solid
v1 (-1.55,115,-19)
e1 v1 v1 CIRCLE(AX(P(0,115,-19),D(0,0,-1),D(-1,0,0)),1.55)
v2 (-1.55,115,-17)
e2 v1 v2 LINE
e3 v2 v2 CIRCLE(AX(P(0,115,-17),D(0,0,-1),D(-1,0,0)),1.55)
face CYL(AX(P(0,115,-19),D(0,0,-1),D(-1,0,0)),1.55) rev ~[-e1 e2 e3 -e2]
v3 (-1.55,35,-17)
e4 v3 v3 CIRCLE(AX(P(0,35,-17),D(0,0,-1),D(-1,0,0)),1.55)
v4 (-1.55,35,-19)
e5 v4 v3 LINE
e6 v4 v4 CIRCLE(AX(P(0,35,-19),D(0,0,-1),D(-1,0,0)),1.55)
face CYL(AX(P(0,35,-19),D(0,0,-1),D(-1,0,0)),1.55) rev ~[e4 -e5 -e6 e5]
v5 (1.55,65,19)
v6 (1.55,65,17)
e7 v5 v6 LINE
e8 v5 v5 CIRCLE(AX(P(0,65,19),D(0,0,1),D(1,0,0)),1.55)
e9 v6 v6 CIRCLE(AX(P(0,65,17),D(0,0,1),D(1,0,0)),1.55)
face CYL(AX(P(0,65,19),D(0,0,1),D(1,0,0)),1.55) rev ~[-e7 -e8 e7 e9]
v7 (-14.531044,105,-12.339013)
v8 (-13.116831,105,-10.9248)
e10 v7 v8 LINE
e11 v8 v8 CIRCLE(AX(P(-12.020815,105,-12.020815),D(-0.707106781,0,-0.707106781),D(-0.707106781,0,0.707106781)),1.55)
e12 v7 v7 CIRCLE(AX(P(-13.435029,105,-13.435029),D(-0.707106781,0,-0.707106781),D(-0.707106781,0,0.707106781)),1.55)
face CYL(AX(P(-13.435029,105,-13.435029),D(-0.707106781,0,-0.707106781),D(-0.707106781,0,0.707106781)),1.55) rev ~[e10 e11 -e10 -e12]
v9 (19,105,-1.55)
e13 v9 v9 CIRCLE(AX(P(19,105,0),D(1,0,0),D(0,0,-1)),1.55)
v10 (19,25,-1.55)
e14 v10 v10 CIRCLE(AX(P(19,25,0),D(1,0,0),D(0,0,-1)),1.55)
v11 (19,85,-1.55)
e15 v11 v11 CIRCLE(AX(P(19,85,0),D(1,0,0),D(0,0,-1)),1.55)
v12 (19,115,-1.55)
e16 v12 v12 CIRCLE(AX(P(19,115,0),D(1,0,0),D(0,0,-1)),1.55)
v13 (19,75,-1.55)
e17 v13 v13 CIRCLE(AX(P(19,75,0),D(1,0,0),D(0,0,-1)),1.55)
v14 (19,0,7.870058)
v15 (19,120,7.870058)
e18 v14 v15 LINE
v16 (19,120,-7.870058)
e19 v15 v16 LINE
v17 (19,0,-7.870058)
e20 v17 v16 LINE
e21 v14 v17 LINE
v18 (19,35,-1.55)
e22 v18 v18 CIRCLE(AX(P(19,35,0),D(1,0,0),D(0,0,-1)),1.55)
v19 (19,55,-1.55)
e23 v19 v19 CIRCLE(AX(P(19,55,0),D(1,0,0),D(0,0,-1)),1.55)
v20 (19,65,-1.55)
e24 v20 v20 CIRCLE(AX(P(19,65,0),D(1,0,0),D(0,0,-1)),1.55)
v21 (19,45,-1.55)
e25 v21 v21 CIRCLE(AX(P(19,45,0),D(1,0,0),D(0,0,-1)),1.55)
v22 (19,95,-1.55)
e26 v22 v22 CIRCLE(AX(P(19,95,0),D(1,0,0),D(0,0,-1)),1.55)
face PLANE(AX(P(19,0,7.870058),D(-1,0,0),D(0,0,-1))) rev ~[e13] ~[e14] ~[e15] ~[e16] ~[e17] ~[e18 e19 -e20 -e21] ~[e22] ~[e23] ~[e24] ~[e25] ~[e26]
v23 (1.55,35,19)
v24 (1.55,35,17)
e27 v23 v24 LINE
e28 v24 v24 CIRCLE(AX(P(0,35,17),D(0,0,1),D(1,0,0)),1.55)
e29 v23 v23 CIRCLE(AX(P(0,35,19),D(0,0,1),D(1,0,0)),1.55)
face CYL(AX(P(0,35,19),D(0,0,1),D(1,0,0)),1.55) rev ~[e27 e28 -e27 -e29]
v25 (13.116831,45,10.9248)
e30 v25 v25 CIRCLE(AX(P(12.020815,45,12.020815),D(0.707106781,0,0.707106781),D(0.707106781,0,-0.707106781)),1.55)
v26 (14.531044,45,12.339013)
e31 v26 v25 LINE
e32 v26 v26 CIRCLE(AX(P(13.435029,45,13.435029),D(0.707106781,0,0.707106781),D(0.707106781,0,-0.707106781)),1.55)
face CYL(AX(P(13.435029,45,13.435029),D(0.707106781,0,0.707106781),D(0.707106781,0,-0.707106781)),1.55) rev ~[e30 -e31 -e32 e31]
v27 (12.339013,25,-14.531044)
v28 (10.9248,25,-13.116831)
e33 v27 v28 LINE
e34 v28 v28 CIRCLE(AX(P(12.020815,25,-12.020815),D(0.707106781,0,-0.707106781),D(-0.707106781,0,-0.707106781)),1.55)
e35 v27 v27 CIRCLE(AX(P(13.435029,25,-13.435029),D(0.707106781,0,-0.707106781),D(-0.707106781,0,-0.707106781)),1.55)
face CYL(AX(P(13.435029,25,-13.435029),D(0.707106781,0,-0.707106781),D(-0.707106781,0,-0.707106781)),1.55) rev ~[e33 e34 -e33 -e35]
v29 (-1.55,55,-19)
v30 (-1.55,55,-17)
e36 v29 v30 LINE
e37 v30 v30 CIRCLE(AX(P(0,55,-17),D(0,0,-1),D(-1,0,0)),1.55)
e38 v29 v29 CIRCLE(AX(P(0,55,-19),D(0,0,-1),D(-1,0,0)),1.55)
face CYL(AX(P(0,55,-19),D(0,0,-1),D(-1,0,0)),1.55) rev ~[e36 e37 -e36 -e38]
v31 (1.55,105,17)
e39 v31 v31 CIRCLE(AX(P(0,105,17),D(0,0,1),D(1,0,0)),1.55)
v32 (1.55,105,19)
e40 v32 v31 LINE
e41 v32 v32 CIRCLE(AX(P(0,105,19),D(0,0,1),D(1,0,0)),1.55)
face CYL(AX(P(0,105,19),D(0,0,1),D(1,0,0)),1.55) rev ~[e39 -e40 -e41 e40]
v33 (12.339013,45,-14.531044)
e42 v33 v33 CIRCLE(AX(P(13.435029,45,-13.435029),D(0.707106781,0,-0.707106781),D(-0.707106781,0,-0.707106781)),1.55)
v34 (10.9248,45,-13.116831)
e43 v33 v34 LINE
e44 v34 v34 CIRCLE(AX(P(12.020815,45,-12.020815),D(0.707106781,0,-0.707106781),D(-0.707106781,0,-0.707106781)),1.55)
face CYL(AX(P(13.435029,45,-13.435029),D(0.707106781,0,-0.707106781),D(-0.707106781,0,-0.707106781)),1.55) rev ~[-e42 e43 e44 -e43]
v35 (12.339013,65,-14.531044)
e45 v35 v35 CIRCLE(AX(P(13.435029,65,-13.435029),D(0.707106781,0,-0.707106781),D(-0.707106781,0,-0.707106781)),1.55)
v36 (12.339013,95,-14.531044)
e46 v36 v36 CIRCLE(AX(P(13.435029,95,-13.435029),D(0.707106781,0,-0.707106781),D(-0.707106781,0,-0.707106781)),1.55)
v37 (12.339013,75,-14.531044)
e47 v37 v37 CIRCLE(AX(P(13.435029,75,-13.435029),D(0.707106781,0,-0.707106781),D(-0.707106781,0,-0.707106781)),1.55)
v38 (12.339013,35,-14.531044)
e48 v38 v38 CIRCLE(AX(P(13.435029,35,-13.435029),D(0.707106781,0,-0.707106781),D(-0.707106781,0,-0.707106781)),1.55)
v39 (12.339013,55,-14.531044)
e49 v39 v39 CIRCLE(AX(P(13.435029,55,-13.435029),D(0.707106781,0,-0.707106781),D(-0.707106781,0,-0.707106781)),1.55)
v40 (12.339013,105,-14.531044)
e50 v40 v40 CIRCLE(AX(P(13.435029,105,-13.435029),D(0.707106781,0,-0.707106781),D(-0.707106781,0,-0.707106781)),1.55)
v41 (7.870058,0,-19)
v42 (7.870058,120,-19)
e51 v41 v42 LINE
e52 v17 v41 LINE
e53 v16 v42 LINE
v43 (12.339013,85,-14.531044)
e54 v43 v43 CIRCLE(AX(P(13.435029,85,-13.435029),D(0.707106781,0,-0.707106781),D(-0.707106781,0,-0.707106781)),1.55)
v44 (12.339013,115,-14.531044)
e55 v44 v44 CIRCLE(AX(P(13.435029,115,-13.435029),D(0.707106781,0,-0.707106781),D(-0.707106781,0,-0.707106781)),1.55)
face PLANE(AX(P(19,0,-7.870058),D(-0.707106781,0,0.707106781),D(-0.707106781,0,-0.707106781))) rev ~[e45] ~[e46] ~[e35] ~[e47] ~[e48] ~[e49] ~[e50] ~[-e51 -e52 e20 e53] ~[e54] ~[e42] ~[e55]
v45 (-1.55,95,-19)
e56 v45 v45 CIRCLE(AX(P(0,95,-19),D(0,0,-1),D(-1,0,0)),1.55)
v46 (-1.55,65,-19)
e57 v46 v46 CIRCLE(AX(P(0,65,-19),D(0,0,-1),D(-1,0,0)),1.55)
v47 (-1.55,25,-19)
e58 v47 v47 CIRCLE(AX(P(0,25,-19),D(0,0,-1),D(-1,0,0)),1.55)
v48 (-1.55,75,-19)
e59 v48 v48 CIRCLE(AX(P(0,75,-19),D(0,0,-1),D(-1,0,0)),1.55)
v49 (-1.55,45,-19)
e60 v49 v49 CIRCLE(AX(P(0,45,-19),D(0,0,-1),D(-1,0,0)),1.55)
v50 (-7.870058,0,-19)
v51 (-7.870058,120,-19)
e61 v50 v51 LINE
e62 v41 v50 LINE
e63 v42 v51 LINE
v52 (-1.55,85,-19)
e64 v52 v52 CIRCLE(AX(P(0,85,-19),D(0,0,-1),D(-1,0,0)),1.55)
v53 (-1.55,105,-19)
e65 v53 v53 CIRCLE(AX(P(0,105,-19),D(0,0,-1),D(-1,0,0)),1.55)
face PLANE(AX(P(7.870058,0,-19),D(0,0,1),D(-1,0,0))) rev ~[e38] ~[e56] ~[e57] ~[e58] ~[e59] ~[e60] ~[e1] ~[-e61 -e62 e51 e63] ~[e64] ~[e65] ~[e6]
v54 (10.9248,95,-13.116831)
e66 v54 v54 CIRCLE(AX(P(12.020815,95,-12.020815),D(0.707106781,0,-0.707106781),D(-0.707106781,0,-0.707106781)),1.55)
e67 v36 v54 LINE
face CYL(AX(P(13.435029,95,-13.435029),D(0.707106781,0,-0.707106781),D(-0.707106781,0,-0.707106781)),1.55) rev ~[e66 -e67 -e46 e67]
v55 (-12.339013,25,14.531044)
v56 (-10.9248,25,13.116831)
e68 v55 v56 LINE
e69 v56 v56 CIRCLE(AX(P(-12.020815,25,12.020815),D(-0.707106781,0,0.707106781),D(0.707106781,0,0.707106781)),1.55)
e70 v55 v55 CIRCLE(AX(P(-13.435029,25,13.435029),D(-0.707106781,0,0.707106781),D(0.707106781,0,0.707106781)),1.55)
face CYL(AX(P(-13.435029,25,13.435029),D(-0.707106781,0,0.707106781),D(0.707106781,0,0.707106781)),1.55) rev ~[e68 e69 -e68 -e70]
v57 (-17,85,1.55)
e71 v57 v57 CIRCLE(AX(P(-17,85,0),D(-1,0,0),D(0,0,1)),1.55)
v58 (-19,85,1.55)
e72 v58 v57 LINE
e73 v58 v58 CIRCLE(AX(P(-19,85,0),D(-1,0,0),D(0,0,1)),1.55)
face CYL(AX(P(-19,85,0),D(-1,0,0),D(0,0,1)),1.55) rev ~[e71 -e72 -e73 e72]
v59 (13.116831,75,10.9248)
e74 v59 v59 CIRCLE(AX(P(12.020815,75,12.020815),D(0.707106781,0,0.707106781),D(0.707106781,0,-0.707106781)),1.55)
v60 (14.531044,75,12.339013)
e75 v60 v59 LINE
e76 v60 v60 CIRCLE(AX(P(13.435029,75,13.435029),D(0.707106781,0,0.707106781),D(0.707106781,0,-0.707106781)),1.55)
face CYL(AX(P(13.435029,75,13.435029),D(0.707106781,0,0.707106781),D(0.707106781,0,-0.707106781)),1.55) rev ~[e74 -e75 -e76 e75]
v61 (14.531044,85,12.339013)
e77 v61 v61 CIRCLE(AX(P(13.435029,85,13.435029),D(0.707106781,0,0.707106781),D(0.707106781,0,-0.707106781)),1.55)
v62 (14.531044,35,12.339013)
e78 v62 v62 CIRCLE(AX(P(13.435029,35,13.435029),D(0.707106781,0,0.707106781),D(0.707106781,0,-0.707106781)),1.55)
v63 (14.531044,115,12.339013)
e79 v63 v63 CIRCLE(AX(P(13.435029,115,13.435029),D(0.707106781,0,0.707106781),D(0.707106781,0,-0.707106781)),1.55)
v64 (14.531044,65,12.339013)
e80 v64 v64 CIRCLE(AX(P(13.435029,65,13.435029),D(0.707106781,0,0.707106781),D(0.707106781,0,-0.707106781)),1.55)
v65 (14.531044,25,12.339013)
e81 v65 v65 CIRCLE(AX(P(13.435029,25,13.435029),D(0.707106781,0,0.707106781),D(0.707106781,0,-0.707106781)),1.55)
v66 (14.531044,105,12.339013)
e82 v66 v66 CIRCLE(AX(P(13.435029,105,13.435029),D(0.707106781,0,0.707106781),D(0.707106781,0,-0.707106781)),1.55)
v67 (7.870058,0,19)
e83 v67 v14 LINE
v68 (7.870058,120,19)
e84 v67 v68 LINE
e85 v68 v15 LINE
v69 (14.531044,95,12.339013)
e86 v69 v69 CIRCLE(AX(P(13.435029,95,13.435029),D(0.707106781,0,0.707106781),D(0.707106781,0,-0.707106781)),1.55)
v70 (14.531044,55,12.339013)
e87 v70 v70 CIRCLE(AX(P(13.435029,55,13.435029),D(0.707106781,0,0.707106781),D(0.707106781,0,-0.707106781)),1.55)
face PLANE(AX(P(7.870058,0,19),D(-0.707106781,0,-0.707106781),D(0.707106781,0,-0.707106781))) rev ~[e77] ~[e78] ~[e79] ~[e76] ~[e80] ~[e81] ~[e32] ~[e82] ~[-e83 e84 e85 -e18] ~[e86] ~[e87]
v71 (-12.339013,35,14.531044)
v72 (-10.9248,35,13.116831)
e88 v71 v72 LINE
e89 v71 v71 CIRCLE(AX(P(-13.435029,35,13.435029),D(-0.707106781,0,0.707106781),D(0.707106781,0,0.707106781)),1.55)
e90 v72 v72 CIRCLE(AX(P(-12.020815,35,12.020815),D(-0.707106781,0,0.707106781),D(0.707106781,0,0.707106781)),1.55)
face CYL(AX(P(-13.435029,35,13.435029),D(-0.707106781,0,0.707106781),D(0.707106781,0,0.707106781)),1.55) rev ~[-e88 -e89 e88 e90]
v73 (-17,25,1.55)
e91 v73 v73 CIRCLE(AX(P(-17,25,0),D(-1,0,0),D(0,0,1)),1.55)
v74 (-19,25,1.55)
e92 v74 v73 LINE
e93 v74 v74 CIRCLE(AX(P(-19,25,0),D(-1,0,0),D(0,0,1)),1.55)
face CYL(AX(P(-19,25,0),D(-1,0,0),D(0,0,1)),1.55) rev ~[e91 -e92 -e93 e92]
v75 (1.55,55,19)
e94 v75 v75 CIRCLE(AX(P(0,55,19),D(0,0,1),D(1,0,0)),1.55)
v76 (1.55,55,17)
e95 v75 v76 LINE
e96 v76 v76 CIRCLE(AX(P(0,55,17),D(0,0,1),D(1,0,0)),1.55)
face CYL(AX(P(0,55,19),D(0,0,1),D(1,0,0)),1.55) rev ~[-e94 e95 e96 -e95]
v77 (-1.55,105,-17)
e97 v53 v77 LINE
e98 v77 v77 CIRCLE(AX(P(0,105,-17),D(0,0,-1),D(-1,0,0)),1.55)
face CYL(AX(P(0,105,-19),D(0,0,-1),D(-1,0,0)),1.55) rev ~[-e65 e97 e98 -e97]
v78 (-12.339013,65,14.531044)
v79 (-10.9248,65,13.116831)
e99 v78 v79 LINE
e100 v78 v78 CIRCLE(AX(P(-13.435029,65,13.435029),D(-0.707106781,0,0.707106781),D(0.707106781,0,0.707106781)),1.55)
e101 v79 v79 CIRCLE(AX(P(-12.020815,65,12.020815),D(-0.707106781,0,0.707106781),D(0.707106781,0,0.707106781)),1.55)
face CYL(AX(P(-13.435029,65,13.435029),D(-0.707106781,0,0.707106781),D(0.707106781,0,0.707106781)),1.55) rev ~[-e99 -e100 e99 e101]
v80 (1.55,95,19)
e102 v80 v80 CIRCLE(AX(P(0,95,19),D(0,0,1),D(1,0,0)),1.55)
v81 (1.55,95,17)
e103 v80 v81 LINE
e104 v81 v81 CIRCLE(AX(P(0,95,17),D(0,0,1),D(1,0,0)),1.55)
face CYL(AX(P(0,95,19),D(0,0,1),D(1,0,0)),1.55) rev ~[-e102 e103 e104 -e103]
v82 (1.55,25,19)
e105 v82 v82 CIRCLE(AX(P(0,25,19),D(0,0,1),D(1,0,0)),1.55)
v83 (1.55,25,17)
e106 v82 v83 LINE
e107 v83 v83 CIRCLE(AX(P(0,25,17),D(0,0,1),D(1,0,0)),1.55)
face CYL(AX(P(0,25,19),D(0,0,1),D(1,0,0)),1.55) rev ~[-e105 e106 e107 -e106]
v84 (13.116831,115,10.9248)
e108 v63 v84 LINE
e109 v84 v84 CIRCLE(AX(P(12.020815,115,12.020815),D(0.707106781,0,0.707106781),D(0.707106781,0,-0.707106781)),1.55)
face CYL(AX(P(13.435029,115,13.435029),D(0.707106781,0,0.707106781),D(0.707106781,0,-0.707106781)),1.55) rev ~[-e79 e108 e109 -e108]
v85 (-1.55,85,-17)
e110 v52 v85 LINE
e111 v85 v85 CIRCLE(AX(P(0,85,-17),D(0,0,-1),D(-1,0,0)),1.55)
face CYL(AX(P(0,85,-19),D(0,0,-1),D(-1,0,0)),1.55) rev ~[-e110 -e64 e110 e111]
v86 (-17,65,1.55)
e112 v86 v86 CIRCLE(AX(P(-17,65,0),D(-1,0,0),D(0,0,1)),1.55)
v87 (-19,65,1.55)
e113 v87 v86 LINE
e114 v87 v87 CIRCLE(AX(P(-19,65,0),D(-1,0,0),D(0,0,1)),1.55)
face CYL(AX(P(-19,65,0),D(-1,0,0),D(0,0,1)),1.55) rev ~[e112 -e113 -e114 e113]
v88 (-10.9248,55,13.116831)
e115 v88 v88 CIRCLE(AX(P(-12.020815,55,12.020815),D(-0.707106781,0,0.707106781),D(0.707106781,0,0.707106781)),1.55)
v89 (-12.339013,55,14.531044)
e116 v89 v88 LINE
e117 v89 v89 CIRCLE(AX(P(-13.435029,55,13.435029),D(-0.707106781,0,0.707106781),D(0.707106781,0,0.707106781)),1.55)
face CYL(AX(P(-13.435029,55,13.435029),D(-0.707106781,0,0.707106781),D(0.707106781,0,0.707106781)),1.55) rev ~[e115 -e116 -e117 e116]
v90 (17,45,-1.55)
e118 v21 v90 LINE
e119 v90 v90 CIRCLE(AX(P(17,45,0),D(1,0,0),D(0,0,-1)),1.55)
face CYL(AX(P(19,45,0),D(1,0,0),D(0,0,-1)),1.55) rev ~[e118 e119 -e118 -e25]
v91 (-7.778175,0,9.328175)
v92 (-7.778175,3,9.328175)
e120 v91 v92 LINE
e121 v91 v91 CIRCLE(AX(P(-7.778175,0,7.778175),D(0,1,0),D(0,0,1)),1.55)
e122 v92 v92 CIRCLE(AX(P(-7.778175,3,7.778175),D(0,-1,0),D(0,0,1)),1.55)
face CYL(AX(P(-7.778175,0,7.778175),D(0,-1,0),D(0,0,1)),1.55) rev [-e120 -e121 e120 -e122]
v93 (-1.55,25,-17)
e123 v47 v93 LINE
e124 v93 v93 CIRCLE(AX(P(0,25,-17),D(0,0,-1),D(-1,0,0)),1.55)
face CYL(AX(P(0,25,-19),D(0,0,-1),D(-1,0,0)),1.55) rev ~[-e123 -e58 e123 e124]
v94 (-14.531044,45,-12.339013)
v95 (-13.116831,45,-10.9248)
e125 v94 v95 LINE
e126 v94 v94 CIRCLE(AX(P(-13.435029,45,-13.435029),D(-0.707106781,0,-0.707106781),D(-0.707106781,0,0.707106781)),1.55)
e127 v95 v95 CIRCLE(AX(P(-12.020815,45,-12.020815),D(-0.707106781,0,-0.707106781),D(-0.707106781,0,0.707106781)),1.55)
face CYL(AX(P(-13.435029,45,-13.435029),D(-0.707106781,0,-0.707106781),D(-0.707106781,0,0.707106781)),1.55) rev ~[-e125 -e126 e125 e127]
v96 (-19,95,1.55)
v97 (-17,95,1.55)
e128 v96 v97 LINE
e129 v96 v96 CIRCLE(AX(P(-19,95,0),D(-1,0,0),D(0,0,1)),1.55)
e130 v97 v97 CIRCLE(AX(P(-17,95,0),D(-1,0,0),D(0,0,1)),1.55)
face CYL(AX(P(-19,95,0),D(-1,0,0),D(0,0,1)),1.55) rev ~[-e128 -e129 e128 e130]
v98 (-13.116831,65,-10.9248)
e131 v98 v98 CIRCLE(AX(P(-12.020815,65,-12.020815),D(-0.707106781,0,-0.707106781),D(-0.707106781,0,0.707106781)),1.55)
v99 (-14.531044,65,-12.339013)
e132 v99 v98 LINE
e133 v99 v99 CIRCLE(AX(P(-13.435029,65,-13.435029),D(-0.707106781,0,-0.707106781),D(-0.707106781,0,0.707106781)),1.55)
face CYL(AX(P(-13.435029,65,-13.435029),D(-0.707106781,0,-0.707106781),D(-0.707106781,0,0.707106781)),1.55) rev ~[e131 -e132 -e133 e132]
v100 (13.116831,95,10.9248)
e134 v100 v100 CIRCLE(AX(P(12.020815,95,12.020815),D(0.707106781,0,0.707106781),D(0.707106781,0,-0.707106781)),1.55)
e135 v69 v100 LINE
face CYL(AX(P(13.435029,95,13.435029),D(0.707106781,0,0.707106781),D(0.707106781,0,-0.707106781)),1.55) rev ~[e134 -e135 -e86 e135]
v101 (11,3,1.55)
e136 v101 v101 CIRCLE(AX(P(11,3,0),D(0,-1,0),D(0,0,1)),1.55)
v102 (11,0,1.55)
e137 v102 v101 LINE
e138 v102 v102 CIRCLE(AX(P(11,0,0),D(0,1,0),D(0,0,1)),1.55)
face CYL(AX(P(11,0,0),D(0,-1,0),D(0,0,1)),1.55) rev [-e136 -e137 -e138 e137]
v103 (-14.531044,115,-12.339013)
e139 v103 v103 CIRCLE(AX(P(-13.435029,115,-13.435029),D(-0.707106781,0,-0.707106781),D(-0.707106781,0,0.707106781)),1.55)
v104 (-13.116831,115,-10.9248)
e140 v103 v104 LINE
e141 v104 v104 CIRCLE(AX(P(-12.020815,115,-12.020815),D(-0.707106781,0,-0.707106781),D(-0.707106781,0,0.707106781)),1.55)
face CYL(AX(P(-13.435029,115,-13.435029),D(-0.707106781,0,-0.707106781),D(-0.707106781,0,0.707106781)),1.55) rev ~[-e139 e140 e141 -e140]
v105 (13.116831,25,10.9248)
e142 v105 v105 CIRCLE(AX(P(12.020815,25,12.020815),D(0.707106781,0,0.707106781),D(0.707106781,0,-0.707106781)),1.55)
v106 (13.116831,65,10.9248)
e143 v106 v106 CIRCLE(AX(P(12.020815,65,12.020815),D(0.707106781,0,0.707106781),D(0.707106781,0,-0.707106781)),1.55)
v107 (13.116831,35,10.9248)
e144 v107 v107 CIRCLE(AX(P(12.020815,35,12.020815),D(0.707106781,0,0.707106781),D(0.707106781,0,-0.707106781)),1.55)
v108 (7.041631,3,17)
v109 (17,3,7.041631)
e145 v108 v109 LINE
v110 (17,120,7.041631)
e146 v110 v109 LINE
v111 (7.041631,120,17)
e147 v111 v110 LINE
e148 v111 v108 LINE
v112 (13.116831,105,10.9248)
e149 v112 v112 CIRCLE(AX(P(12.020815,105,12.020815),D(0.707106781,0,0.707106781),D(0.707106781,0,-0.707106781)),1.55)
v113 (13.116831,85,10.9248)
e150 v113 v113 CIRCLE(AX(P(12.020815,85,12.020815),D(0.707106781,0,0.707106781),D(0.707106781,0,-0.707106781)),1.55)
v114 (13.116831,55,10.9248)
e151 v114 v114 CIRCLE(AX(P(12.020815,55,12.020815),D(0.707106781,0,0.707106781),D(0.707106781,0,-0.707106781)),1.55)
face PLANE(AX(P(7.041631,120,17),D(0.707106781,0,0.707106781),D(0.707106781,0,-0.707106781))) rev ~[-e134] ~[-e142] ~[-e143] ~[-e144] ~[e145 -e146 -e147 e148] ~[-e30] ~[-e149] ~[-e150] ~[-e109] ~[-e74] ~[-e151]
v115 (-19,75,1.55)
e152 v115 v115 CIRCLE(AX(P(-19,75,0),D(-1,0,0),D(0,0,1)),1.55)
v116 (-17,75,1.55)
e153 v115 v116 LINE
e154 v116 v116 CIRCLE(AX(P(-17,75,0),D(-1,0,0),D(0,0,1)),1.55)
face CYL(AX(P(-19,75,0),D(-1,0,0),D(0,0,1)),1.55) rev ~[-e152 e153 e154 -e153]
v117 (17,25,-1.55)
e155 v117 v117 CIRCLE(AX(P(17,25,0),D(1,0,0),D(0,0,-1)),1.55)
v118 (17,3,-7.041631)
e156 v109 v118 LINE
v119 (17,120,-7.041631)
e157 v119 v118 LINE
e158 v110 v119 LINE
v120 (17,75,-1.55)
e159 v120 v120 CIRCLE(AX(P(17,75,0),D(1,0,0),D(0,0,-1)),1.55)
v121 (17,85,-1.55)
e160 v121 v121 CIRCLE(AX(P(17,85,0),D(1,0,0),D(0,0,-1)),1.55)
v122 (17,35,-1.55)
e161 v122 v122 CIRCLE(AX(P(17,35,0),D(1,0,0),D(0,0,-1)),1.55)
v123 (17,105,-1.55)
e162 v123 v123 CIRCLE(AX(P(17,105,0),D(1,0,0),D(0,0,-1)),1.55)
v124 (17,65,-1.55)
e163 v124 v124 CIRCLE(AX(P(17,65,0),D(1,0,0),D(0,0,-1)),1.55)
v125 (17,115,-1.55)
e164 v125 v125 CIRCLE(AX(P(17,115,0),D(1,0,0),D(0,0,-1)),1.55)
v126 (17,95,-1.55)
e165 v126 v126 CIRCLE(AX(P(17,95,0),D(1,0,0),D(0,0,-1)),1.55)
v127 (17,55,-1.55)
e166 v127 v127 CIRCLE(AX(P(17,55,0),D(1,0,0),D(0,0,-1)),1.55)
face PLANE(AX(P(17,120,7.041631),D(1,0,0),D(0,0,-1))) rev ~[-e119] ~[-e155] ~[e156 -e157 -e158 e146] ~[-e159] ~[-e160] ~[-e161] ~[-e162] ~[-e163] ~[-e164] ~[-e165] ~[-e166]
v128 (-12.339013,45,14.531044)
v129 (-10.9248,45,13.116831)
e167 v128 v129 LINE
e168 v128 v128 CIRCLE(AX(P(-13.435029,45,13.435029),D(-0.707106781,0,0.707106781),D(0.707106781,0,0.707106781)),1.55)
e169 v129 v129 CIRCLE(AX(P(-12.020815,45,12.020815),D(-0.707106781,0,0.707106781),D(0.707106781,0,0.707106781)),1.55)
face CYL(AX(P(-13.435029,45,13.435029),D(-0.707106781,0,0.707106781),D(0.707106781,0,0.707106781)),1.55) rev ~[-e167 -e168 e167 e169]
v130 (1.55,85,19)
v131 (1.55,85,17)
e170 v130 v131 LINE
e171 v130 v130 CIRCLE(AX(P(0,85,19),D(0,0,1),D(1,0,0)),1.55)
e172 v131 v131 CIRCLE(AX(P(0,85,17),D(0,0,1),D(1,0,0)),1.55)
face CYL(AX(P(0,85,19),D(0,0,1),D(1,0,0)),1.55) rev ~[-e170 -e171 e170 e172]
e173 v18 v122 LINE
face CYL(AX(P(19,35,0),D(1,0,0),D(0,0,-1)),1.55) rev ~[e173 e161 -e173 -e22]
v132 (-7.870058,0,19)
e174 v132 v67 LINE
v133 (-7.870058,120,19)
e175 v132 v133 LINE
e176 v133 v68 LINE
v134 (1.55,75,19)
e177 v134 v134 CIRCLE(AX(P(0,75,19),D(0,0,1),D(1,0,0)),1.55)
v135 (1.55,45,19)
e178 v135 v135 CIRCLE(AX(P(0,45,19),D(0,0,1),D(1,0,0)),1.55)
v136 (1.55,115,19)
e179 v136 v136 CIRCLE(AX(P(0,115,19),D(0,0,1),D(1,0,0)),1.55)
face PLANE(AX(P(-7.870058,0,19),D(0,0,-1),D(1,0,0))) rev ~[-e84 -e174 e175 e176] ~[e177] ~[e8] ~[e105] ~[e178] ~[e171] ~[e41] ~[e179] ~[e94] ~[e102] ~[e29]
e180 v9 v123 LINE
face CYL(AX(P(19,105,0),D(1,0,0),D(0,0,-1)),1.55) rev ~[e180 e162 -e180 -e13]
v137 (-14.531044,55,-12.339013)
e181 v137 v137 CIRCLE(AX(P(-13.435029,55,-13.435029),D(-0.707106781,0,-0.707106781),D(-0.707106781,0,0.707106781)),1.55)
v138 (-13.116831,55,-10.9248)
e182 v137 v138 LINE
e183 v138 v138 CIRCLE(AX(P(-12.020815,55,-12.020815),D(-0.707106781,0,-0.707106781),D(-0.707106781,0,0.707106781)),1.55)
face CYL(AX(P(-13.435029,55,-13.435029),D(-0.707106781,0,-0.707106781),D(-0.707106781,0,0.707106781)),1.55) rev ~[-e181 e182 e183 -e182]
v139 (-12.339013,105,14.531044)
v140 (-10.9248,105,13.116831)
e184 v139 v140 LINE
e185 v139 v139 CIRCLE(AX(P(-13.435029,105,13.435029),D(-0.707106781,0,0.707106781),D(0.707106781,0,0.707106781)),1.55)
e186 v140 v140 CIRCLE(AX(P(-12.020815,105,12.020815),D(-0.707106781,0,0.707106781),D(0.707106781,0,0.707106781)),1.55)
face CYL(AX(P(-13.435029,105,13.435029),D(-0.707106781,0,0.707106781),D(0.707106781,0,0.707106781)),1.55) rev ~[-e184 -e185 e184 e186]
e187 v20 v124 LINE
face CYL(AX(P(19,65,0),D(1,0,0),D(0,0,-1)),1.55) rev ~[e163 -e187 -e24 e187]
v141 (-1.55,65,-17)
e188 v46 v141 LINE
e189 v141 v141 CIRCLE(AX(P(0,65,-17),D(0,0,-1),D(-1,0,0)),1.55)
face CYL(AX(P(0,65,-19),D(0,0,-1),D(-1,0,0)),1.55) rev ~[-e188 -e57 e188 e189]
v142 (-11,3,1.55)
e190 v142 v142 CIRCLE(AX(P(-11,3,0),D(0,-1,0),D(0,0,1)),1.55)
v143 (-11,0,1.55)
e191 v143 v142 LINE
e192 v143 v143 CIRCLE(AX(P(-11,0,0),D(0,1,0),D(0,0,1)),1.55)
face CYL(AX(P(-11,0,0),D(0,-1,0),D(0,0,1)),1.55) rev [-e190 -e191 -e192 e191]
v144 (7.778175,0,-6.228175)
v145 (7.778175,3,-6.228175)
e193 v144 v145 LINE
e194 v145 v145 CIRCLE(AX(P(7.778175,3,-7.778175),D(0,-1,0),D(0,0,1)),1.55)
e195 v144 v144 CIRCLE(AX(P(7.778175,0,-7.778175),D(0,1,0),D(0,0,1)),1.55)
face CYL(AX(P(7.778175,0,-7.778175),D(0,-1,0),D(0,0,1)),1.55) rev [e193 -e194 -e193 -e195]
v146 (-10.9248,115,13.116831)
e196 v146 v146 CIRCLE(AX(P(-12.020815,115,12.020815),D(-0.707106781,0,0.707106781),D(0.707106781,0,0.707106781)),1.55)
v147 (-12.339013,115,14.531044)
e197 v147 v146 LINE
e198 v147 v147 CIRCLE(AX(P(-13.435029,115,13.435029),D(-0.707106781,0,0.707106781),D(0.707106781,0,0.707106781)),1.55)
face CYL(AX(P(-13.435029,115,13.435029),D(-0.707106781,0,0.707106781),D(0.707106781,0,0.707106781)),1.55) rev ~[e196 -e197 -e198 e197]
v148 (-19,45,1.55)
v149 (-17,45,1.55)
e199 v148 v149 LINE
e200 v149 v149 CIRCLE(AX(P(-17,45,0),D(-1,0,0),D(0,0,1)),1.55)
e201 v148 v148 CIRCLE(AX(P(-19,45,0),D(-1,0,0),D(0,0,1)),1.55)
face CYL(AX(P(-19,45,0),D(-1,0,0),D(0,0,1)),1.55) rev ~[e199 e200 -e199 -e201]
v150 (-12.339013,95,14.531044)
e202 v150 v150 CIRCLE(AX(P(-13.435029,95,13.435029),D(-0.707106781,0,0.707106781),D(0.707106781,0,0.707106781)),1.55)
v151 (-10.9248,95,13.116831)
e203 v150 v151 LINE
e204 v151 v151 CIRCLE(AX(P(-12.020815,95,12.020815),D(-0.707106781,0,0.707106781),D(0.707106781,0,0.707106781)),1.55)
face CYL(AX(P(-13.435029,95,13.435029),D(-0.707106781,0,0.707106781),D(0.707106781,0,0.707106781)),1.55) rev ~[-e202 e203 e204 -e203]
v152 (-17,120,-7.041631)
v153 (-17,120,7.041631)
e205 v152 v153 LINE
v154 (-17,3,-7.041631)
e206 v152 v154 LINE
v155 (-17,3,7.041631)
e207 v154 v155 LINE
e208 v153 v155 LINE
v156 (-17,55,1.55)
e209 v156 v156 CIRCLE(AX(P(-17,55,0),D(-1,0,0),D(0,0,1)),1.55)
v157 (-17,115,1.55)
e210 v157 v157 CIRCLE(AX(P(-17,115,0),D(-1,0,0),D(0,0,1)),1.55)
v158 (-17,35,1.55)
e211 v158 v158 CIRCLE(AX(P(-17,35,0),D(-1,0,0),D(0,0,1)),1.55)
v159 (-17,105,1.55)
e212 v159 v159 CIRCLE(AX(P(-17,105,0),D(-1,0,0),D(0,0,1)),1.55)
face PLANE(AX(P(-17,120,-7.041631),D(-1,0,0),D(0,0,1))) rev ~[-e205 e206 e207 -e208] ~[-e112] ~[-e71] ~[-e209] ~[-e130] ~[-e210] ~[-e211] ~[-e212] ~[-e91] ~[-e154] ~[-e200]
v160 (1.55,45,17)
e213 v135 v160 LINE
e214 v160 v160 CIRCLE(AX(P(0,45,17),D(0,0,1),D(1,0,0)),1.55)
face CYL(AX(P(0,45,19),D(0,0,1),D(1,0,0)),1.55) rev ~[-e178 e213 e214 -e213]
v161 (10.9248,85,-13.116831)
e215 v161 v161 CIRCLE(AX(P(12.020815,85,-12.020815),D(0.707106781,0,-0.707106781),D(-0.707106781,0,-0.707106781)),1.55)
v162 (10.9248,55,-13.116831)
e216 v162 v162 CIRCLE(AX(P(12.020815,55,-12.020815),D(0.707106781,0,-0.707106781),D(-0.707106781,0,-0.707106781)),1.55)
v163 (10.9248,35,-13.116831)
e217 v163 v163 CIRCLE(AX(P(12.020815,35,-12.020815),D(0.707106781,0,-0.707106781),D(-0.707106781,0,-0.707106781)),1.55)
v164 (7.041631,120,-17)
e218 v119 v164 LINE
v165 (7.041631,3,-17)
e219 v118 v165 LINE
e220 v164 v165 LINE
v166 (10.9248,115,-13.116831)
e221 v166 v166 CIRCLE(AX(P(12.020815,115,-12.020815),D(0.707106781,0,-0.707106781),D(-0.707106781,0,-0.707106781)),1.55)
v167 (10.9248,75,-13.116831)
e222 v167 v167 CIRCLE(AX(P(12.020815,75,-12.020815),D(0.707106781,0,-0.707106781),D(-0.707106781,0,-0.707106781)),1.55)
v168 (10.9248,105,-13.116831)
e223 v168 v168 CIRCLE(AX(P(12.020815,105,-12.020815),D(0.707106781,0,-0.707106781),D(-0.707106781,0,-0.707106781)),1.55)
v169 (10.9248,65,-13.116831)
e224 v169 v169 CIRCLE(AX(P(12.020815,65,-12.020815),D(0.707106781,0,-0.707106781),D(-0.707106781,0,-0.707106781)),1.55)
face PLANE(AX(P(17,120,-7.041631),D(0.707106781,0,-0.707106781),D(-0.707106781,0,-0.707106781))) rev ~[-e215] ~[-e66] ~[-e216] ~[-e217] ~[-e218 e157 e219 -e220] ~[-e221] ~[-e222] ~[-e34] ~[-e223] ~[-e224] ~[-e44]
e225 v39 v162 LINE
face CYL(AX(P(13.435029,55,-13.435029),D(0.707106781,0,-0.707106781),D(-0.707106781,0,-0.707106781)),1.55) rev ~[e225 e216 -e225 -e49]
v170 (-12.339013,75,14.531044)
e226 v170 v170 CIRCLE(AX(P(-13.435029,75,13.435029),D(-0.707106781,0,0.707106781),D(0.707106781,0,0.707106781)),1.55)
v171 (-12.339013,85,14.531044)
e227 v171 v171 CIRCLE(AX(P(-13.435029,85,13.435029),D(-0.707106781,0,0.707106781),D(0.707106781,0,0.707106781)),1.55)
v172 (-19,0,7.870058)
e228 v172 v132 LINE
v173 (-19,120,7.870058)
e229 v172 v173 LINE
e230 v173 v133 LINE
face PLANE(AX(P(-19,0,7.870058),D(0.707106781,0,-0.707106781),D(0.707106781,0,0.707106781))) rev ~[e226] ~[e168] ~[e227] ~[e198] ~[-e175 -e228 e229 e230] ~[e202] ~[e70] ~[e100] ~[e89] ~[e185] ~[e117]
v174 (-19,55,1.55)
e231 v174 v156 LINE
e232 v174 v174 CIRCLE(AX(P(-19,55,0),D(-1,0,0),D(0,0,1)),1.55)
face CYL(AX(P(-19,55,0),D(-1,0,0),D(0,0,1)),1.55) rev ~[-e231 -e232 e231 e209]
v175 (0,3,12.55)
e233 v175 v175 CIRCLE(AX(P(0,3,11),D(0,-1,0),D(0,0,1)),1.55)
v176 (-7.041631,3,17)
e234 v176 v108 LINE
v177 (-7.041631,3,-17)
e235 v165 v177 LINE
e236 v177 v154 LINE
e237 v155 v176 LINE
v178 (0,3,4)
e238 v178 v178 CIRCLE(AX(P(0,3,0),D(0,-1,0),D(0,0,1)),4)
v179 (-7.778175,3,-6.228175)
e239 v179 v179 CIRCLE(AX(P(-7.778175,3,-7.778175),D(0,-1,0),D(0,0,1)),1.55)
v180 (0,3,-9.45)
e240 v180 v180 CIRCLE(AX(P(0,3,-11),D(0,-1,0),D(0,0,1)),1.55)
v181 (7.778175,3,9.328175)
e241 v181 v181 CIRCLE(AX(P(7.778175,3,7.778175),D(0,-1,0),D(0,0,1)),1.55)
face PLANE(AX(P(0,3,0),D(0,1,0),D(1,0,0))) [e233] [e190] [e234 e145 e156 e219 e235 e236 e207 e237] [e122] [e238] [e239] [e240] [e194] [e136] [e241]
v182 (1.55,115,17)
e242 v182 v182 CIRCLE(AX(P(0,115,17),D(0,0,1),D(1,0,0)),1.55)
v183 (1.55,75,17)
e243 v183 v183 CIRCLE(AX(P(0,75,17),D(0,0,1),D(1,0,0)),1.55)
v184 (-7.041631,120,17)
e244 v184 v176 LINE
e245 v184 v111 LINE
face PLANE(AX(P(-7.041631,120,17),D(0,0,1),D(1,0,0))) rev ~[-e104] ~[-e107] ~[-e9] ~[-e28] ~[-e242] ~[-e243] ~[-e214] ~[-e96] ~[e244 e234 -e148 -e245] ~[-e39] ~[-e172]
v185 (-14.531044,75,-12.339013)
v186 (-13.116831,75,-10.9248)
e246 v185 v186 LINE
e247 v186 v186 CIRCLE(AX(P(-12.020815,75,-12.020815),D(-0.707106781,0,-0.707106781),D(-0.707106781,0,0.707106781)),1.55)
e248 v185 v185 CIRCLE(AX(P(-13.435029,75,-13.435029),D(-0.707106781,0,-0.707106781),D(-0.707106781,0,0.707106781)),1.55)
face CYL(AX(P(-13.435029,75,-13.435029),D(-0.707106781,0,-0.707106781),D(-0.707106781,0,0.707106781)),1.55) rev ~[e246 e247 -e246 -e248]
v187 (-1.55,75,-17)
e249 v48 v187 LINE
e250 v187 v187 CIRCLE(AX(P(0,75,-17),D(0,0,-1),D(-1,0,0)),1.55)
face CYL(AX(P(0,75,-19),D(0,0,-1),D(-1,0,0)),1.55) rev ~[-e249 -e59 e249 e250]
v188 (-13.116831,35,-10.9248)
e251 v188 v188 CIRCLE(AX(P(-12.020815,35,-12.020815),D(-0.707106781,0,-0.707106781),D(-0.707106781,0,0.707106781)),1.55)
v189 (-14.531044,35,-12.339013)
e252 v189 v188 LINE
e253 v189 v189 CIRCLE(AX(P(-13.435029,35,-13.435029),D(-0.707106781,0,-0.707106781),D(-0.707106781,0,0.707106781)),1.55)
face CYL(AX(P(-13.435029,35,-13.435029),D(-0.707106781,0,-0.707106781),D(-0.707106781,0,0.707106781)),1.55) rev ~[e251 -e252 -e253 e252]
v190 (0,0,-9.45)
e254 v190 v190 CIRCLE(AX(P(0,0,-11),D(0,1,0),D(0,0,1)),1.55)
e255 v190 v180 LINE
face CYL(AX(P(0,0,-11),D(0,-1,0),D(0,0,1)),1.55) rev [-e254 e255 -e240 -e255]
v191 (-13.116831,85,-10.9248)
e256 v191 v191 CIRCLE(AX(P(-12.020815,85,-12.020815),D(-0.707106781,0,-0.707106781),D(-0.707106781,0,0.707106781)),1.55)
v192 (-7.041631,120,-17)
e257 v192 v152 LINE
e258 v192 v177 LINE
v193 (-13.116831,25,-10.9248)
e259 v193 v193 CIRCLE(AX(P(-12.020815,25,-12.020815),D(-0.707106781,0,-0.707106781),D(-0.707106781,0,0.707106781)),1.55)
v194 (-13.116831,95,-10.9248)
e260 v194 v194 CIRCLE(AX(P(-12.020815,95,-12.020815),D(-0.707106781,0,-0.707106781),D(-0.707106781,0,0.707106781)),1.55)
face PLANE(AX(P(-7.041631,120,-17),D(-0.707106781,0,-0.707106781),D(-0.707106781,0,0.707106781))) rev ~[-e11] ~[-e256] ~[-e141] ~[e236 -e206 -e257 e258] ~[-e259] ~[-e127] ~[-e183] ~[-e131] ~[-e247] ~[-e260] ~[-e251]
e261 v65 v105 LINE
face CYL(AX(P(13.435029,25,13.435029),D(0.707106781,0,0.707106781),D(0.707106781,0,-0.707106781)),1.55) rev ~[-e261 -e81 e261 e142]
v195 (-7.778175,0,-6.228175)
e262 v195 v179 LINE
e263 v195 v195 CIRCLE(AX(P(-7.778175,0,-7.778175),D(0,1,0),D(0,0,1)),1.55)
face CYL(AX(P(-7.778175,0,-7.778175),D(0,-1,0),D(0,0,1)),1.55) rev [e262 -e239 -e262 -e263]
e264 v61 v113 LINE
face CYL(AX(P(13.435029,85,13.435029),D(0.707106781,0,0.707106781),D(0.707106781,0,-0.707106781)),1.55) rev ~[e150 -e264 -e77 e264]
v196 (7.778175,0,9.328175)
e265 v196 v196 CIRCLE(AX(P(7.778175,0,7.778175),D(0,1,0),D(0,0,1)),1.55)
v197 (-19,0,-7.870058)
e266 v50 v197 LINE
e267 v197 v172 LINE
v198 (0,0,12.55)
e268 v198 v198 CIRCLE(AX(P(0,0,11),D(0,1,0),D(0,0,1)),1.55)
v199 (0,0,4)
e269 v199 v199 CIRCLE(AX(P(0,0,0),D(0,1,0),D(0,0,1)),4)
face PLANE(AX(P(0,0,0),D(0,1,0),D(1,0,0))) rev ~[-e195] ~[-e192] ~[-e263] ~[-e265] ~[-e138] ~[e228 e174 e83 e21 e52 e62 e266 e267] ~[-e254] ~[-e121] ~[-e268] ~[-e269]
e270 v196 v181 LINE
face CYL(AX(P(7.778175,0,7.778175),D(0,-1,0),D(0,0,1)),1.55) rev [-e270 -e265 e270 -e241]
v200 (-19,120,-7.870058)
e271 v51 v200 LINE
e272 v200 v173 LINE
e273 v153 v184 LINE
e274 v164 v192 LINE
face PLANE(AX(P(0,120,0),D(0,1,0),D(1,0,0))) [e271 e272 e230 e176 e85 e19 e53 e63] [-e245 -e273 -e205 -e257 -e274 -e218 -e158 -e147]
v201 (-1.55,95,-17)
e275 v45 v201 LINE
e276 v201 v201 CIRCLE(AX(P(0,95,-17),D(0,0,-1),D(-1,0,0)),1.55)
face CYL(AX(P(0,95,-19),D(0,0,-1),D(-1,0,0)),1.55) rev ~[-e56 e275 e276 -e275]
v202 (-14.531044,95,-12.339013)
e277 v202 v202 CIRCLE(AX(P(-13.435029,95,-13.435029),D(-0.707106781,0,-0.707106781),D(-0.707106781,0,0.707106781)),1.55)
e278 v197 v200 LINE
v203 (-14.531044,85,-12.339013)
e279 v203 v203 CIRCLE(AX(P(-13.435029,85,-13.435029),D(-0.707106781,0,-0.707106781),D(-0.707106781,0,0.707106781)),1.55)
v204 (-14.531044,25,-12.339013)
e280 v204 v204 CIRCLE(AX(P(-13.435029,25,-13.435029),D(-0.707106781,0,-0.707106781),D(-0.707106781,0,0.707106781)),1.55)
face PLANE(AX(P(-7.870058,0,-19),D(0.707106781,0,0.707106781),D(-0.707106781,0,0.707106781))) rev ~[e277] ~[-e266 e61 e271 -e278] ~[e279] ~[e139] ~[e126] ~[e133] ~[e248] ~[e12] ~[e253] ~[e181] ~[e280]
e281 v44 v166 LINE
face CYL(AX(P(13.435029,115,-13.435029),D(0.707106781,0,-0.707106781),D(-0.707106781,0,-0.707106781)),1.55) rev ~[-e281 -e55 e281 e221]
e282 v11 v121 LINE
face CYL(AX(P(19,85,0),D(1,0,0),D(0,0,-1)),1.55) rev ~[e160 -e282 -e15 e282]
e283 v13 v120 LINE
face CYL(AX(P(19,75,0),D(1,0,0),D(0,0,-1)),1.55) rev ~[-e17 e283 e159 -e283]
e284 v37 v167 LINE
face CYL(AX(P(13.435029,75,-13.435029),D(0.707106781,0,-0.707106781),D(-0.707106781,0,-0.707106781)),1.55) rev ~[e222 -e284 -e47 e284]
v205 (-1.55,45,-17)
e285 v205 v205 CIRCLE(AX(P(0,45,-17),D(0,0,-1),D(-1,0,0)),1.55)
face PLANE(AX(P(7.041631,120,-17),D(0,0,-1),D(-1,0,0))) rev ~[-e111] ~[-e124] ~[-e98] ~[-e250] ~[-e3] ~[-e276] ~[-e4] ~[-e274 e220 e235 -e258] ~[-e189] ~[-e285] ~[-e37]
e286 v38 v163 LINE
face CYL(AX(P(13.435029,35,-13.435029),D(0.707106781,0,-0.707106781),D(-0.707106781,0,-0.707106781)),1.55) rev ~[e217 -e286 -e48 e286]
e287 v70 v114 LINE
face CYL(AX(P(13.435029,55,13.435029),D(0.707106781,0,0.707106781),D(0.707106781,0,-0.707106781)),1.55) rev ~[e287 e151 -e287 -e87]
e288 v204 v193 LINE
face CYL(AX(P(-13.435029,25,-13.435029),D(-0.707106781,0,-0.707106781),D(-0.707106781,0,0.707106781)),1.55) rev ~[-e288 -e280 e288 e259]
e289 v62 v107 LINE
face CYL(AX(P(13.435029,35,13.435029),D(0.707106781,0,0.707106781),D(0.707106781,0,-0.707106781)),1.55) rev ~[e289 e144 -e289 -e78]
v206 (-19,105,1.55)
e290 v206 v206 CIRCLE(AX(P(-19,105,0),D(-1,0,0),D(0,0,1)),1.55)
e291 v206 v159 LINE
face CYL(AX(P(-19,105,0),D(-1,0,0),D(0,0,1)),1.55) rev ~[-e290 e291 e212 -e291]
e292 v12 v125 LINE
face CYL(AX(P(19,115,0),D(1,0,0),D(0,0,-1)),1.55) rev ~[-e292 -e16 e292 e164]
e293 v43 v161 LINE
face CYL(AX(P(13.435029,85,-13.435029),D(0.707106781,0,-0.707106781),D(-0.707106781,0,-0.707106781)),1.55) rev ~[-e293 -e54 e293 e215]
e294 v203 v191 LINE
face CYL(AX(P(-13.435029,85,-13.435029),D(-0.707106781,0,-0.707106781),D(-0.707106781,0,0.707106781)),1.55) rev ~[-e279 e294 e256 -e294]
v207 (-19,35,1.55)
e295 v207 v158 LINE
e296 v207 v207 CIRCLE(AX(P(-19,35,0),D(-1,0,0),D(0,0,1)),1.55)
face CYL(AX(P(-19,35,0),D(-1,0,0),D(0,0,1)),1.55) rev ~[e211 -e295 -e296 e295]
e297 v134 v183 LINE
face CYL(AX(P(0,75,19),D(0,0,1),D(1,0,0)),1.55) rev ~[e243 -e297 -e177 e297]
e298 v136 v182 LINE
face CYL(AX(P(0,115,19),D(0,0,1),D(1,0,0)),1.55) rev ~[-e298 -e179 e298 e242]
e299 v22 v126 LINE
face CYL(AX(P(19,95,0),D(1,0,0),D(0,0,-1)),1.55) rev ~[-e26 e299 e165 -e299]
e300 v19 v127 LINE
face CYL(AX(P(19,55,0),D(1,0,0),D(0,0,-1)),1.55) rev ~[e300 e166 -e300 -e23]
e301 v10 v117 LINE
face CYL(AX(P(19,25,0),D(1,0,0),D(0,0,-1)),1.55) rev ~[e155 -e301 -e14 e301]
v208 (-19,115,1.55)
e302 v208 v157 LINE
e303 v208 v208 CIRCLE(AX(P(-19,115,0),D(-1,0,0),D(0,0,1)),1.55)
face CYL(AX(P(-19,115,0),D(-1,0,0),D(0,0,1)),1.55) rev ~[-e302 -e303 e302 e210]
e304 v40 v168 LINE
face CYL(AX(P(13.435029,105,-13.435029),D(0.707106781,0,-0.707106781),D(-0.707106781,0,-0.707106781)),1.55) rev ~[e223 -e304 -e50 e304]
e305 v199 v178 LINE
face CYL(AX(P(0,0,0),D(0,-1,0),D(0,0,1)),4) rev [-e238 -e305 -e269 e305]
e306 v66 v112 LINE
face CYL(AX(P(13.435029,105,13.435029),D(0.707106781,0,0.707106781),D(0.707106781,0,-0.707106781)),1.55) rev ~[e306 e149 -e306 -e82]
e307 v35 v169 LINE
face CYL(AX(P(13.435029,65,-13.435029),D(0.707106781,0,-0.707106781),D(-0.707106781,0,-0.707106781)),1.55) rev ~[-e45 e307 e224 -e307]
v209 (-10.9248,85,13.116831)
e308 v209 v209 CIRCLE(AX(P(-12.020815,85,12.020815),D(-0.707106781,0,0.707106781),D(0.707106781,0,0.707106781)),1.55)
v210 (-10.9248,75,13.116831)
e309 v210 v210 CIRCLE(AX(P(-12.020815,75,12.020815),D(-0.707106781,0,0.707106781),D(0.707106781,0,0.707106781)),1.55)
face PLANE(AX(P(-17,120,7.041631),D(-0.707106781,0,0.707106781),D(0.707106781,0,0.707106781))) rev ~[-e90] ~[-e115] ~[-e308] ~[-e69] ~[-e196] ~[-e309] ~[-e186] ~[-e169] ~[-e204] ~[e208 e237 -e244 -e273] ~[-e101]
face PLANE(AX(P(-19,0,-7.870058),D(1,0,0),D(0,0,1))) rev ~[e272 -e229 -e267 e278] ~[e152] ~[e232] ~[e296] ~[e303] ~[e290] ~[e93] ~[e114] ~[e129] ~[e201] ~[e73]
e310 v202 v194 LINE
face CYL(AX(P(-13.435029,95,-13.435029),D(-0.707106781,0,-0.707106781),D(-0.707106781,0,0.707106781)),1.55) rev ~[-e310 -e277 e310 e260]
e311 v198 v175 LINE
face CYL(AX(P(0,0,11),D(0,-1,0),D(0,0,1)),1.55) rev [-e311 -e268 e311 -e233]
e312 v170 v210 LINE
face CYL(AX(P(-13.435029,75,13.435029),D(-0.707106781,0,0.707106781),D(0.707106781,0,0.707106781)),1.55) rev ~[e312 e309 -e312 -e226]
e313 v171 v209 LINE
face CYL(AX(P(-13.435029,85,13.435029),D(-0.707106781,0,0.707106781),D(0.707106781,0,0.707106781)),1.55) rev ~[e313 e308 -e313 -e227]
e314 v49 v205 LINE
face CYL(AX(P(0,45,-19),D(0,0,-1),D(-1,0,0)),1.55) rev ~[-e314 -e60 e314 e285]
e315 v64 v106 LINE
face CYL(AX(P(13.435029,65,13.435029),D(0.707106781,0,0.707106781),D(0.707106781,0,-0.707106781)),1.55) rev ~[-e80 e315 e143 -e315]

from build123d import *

# Parameters (mm, degrees)
CROQUIS1_R              = 1.55
CROQUIS1_R_2            = 4
SALIENTE_EXTRUIR1_DEPTH = 120
CORTAR_EXTRUIR1_DEPTH   = 117
CORTAR_EXTRUIR2_REACH   = 129.299
CROQUIS3_R              = 1.55
MATRIZC1_COUNT          = 8


with BuildPart() as part:
    # Croquis1 → Saliente-Extruir1 (new body)
    with BuildSketch(Plane(origin=(0, 0, 0), x_dir=(1, 0, 0), z_dir=(0, 1, 0))):
        Polygon((19, -7.870057685), (19, 7.870057685), (7.870057685, 19), (-7.870057685, 19), (-19, 7.870057685), (-19, -7.870057685), (-7.870057685, -19), (7.870057685, -19), align=None)
        with Locations(Location((0, 11, 0), (0, 0, 270))):
            Circle(CROQUIS1_R, mode=Mode.SUBTRACT)
        with Locations(Location((0, 0, 0), (0, 0, 270))):
            Circle(CROQUIS1_R_2, mode=Mode.SUBTRACT)
        with Locations(Location((7.778174593, 7.778174593, 0), (0, 0, 270))):
            Circle(CROQUIS1_R, mode=Mode.SUBTRACT)
        with Locations(Location((11, 0, 0), (0, 0, 270))):
            Circle(CROQUIS1_R, mode=Mode.SUBTRACT)
        with Locations(Location((7.778174593, -7.778174593, 0), (0, 0, 270))):
            Circle(CROQUIS1_R, mode=Mode.SUBTRACT)
        with Locations(Location((0, -11, 0), (0, 0, 270))):
            Circle(CROQUIS1_R, mode=Mode.SUBTRACT)
        with Locations(Location((-7.778174593, -7.778174593, 0), (0, 0, 270))):
            Circle(CROQUIS1_R, mode=Mode.SUBTRACT)
        with Locations(Location((-11, 0, 0), (0, 0, 270))):
            Circle(CROQUIS1_R, mode=Mode.SUBTRACT)
        with Locations(Location((-7.778174593, 7.778174593, 0), (0, 0, 270))):
            Circle(CROQUIS1_R, mode=Mode.SUBTRACT)
    extrude(amount=SALIENTE_EXTRUIR1_DEPTH)

    # Croquis2 → Cortar-Extruir1 (cut)
    with BuildSketch(Plane(origin=(0, 120, 0), x_dir=(1, 0, 0), z_dir=(0, 1, 0))):
        Polygon((7.04163056, 17), (-7.04163056, 17), (-17, 7.04163056), (-17, -7.04163056), (-7.04163056, -17), (7.04163056, -17), (17, -7.04163056), (17, 7.04163056), align=None)
    extrude(amount=-CORTAR_EXTRUIR1_DEPTH, mode=Mode.SUBTRACT)

    # Croquis3 → Cortar-Extruir2 (cut, up to next)
    with BuildSketch(Plane(origin=(0, 0, -19), x_dir=(-1, 0, 0), z_dir=(0, 0, -1)), mode=Mode.PRIVATE) as cortar_extruir2_sk1:
        with Locations((0, 115)):
            Circle(CROQUIS3_R)
    cortar_extruir2_tool1 = extrude(cortar_extruir2_sk1.sketch, amount=-CORTAR_EXTRUIR2_REACH, mode=Mode.PRIVATE) & part.part
    # Croquis3 → Cortar-Extruir2 (cut, up to next)
    with BuildSketch(Plane(origin=(0, 0, -19), x_dir=(-1, 0, 0), z_dir=(0, 0, -1)), mode=Mode.PRIVATE) as cortar_extruir2_sk2:
        with Locations((0, 105)):
            Circle(CROQUIS3_R)
    cortar_extruir2_tool2 = extrude(cortar_extruir2_sk2.sketch, amount=-CORTAR_EXTRUIR2_REACH, mode=Mode.PRIVATE) & part.part
    # Croquis3 → Cortar-Extruir2 (cut, up to next)
    with BuildSketch(Plane(origin=(0, 0, -19), x_dir=(-1, 0, 0), z_dir=(0, 0, -1)), mode=Mode.PRIVATE) as cortar_extruir2_sk3:
        with Locations((0, 95)):
            Circle(CROQUIS3_R)
    cortar_extruir2_tool3 = extrude(cortar_extruir2_sk3.sketch, amount=-CORTAR_EXTRUIR2_REACH, mode=Mode.PRIVATE) & part.part
    # Croquis3 → Cortar-Extruir2 (cut, up to next)
    with BuildSketch(Plane(origin=(0, 0, -19), x_dir=(-1, 0, 0), z_dir=(0, 0, -1)), mode=Mode.PRIVATE) as cortar_extruir2_sk4:
        with Locations((0, 85)):
            Circle(CROQUIS3_R)
    cortar_extruir2_tool4 = extrude(cortar_extruir2_sk4.sketch, amount=-CORTAR_EXTRUIR2_REACH, mode=Mode.PRIVATE) & part.part
    # Croquis3 → Cortar-Extruir2 (cut, up to next)
    with BuildSketch(Plane(origin=(0, 0, -19), x_dir=(-1, 0, 0), z_dir=(0, 0, -1)), mode=Mode.PRIVATE) as cortar_extruir2_sk5:
        with Locations((0, 75)):
            Circle(CROQUIS3_R)
    cortar_extruir2_tool5 = extrude(cortar_extruir2_sk5.sketch, amount=-CORTAR_EXTRUIR2_REACH, mode=Mode.PRIVATE) & part.part
    # Croquis3 → Cortar-Extruir2 (cut, up to next)
    with BuildSketch(Plane(origin=(0, 0, -19), x_dir=(-1, 0, 0), z_dir=(0, 0, -1)), mode=Mode.PRIVATE) as cortar_extruir2_sk6:
        with Locations((0, 65)):
            Circle(CROQUIS3_R)
    cortar_extruir2_tool6 = extrude(cortar_extruir2_sk6.sketch, amount=-CORTAR_EXTRUIR2_REACH, mode=Mode.PRIVATE) & part.part
    # Croquis3 → Cortar-Extruir2 (cut, up to next)
    with BuildSketch(Plane(origin=(0, 0, -19), x_dir=(-1, 0, 0), z_dir=(0, 0, -1)), mode=Mode.PRIVATE) as cortar_extruir2_sk7:
        with Locations((0, 55)):
            Circle(CROQUIS3_R)
    cortar_extruir2_tool7 = extrude(cortar_extruir2_sk7.sketch, amount=-CORTAR_EXTRUIR2_REACH, mode=Mode.PRIVATE) & part.part
    # Croquis3 → Cortar-Extruir2 (cut, up to next)
    with BuildSketch(Plane(origin=(0, 0, -19), x_dir=(-1, 0, 0), z_dir=(0, 0, -1)), mode=Mode.PRIVATE) as cortar_extruir2_sk8:
        with Locations((0, 45)):
            Circle(CROQUIS3_R)
    cortar_extruir2_tool8 = extrude(cortar_extruir2_sk8.sketch, amount=-CORTAR_EXTRUIR2_REACH, mode=Mode.PRIVATE) & part.part
    # Croquis3 → Cortar-Extruir2 (cut, up to next)
    with BuildSketch(Plane(origin=(0, 0, -19), x_dir=(-1, 0, 0), z_dir=(0, 0, -1)), mode=Mode.PRIVATE) as cortar_extruir2_sk9:
        with Locations((0, 35)):
            Circle(CROQUIS3_R)
    cortar_extruir2_tool9 = extrude(cortar_extruir2_sk9.sketch, amount=-CORTAR_EXTRUIR2_REACH, mode=Mode.PRIVATE) & part.part
    # Croquis3 → Cortar-Extruir2 (cut, up to next)
    with BuildSketch(Plane(origin=(0, 0, -19), x_dir=(-1, 0, 0), z_dir=(0, 0, -1)), mode=Mode.PRIVATE) as cortar_extruir2_sk10:
        with Locations((0, 25)):
            Circle(CROQUIS3_R)
    cortar_extruir2_tool10 = extrude(cortar_extruir2_sk10.sketch, amount=-CORTAR_EXTRUIR2_REACH, mode=Mode.PRIVATE) & part.part
    cortar_extruir2_1 = cortar_extruir2_tool1.solids().sort_by_distance((0, 115, -19))[0]
    add(cortar_extruir2_1, mode=Mode.SUBTRACT)
    cortar_extruir2_2 = cortar_extruir2_tool2.solids().sort_by_distance((0, 105, -19))[0]
    add(cortar_extruir2_2, mode=Mode.SUBTRACT)
    cortar_extruir2_3 = cortar_extruir2_tool3.solids().sort_by_distance((0, 95, -19))[0]
    add(cortar_extruir2_3, mode=Mode.SUBTRACT)
    cortar_extruir2_4 = cortar_extruir2_tool4.solids().sort_by_distance((0, 85, -19))[0]
    add(cortar_extruir2_4, mode=Mode.SUBTRACT)
    cortar_extruir2_5 = cortar_extruir2_tool5.solids().sort_by_distance((0, 75, -19))[0]
    add(cortar_extruir2_5, mode=Mode.SUBTRACT)
    cortar_extruir2_6 = cortar_extruir2_tool6.solids().sort_by_distance((0, 65, -19))[0]
    add(cortar_extruir2_6, mode=Mode.SUBTRACT)
    cortar_extruir2_7 = cortar_extruir2_tool7.solids().sort_by_distance((0, 55, -19))[0]
    add(cortar_extruir2_7, mode=Mode.SUBTRACT)
    cortar_extruir2_8 = cortar_extruir2_tool8.solids().sort_by_distance((0, 45, -19))[0]
    add(cortar_extruir2_8, mode=Mode.SUBTRACT)
    cortar_extruir2_9 = cortar_extruir2_tool9.solids().sort_by_distance((0, 35, -19))[0]
    add(cortar_extruir2_9, mode=Mode.SUBTRACT)
    cortar_extruir2_10 = cortar_extruir2_tool10.solids().sort_by_distance((0, 25, -19))[0]
    add(cortar_extruir2_10, mode=Mode.SUBTRACT)
    cortar_extruir2 = cortar_extruir2_1 + cortar_extruir2_2 + cortar_extruir2_3 + cortar_extruir2_4 + cortar_extruir2_5 + cortar_extruir2_6 + cortar_extruir2_7 + cortar_extruir2_8 + cortar_extruir2_9 + cortar_extruir2_10  # Cortar-Extruir2 as one shape, for the pattern or mirror that repeats it

    # MatrizC1: Cortar-Extruir2 ×8 about axis
    matrizc1_axis = Axis((0, 3, 0), (0, 1, 0))
    for i in range(1, MATRIZC1_COUNT):
        add(cortar_extruir2.rotate(matrizc1_axis, i * 360 / MATRIZC1_COUNT), mode=Mode.SUBTRACT)


solid = part.part
